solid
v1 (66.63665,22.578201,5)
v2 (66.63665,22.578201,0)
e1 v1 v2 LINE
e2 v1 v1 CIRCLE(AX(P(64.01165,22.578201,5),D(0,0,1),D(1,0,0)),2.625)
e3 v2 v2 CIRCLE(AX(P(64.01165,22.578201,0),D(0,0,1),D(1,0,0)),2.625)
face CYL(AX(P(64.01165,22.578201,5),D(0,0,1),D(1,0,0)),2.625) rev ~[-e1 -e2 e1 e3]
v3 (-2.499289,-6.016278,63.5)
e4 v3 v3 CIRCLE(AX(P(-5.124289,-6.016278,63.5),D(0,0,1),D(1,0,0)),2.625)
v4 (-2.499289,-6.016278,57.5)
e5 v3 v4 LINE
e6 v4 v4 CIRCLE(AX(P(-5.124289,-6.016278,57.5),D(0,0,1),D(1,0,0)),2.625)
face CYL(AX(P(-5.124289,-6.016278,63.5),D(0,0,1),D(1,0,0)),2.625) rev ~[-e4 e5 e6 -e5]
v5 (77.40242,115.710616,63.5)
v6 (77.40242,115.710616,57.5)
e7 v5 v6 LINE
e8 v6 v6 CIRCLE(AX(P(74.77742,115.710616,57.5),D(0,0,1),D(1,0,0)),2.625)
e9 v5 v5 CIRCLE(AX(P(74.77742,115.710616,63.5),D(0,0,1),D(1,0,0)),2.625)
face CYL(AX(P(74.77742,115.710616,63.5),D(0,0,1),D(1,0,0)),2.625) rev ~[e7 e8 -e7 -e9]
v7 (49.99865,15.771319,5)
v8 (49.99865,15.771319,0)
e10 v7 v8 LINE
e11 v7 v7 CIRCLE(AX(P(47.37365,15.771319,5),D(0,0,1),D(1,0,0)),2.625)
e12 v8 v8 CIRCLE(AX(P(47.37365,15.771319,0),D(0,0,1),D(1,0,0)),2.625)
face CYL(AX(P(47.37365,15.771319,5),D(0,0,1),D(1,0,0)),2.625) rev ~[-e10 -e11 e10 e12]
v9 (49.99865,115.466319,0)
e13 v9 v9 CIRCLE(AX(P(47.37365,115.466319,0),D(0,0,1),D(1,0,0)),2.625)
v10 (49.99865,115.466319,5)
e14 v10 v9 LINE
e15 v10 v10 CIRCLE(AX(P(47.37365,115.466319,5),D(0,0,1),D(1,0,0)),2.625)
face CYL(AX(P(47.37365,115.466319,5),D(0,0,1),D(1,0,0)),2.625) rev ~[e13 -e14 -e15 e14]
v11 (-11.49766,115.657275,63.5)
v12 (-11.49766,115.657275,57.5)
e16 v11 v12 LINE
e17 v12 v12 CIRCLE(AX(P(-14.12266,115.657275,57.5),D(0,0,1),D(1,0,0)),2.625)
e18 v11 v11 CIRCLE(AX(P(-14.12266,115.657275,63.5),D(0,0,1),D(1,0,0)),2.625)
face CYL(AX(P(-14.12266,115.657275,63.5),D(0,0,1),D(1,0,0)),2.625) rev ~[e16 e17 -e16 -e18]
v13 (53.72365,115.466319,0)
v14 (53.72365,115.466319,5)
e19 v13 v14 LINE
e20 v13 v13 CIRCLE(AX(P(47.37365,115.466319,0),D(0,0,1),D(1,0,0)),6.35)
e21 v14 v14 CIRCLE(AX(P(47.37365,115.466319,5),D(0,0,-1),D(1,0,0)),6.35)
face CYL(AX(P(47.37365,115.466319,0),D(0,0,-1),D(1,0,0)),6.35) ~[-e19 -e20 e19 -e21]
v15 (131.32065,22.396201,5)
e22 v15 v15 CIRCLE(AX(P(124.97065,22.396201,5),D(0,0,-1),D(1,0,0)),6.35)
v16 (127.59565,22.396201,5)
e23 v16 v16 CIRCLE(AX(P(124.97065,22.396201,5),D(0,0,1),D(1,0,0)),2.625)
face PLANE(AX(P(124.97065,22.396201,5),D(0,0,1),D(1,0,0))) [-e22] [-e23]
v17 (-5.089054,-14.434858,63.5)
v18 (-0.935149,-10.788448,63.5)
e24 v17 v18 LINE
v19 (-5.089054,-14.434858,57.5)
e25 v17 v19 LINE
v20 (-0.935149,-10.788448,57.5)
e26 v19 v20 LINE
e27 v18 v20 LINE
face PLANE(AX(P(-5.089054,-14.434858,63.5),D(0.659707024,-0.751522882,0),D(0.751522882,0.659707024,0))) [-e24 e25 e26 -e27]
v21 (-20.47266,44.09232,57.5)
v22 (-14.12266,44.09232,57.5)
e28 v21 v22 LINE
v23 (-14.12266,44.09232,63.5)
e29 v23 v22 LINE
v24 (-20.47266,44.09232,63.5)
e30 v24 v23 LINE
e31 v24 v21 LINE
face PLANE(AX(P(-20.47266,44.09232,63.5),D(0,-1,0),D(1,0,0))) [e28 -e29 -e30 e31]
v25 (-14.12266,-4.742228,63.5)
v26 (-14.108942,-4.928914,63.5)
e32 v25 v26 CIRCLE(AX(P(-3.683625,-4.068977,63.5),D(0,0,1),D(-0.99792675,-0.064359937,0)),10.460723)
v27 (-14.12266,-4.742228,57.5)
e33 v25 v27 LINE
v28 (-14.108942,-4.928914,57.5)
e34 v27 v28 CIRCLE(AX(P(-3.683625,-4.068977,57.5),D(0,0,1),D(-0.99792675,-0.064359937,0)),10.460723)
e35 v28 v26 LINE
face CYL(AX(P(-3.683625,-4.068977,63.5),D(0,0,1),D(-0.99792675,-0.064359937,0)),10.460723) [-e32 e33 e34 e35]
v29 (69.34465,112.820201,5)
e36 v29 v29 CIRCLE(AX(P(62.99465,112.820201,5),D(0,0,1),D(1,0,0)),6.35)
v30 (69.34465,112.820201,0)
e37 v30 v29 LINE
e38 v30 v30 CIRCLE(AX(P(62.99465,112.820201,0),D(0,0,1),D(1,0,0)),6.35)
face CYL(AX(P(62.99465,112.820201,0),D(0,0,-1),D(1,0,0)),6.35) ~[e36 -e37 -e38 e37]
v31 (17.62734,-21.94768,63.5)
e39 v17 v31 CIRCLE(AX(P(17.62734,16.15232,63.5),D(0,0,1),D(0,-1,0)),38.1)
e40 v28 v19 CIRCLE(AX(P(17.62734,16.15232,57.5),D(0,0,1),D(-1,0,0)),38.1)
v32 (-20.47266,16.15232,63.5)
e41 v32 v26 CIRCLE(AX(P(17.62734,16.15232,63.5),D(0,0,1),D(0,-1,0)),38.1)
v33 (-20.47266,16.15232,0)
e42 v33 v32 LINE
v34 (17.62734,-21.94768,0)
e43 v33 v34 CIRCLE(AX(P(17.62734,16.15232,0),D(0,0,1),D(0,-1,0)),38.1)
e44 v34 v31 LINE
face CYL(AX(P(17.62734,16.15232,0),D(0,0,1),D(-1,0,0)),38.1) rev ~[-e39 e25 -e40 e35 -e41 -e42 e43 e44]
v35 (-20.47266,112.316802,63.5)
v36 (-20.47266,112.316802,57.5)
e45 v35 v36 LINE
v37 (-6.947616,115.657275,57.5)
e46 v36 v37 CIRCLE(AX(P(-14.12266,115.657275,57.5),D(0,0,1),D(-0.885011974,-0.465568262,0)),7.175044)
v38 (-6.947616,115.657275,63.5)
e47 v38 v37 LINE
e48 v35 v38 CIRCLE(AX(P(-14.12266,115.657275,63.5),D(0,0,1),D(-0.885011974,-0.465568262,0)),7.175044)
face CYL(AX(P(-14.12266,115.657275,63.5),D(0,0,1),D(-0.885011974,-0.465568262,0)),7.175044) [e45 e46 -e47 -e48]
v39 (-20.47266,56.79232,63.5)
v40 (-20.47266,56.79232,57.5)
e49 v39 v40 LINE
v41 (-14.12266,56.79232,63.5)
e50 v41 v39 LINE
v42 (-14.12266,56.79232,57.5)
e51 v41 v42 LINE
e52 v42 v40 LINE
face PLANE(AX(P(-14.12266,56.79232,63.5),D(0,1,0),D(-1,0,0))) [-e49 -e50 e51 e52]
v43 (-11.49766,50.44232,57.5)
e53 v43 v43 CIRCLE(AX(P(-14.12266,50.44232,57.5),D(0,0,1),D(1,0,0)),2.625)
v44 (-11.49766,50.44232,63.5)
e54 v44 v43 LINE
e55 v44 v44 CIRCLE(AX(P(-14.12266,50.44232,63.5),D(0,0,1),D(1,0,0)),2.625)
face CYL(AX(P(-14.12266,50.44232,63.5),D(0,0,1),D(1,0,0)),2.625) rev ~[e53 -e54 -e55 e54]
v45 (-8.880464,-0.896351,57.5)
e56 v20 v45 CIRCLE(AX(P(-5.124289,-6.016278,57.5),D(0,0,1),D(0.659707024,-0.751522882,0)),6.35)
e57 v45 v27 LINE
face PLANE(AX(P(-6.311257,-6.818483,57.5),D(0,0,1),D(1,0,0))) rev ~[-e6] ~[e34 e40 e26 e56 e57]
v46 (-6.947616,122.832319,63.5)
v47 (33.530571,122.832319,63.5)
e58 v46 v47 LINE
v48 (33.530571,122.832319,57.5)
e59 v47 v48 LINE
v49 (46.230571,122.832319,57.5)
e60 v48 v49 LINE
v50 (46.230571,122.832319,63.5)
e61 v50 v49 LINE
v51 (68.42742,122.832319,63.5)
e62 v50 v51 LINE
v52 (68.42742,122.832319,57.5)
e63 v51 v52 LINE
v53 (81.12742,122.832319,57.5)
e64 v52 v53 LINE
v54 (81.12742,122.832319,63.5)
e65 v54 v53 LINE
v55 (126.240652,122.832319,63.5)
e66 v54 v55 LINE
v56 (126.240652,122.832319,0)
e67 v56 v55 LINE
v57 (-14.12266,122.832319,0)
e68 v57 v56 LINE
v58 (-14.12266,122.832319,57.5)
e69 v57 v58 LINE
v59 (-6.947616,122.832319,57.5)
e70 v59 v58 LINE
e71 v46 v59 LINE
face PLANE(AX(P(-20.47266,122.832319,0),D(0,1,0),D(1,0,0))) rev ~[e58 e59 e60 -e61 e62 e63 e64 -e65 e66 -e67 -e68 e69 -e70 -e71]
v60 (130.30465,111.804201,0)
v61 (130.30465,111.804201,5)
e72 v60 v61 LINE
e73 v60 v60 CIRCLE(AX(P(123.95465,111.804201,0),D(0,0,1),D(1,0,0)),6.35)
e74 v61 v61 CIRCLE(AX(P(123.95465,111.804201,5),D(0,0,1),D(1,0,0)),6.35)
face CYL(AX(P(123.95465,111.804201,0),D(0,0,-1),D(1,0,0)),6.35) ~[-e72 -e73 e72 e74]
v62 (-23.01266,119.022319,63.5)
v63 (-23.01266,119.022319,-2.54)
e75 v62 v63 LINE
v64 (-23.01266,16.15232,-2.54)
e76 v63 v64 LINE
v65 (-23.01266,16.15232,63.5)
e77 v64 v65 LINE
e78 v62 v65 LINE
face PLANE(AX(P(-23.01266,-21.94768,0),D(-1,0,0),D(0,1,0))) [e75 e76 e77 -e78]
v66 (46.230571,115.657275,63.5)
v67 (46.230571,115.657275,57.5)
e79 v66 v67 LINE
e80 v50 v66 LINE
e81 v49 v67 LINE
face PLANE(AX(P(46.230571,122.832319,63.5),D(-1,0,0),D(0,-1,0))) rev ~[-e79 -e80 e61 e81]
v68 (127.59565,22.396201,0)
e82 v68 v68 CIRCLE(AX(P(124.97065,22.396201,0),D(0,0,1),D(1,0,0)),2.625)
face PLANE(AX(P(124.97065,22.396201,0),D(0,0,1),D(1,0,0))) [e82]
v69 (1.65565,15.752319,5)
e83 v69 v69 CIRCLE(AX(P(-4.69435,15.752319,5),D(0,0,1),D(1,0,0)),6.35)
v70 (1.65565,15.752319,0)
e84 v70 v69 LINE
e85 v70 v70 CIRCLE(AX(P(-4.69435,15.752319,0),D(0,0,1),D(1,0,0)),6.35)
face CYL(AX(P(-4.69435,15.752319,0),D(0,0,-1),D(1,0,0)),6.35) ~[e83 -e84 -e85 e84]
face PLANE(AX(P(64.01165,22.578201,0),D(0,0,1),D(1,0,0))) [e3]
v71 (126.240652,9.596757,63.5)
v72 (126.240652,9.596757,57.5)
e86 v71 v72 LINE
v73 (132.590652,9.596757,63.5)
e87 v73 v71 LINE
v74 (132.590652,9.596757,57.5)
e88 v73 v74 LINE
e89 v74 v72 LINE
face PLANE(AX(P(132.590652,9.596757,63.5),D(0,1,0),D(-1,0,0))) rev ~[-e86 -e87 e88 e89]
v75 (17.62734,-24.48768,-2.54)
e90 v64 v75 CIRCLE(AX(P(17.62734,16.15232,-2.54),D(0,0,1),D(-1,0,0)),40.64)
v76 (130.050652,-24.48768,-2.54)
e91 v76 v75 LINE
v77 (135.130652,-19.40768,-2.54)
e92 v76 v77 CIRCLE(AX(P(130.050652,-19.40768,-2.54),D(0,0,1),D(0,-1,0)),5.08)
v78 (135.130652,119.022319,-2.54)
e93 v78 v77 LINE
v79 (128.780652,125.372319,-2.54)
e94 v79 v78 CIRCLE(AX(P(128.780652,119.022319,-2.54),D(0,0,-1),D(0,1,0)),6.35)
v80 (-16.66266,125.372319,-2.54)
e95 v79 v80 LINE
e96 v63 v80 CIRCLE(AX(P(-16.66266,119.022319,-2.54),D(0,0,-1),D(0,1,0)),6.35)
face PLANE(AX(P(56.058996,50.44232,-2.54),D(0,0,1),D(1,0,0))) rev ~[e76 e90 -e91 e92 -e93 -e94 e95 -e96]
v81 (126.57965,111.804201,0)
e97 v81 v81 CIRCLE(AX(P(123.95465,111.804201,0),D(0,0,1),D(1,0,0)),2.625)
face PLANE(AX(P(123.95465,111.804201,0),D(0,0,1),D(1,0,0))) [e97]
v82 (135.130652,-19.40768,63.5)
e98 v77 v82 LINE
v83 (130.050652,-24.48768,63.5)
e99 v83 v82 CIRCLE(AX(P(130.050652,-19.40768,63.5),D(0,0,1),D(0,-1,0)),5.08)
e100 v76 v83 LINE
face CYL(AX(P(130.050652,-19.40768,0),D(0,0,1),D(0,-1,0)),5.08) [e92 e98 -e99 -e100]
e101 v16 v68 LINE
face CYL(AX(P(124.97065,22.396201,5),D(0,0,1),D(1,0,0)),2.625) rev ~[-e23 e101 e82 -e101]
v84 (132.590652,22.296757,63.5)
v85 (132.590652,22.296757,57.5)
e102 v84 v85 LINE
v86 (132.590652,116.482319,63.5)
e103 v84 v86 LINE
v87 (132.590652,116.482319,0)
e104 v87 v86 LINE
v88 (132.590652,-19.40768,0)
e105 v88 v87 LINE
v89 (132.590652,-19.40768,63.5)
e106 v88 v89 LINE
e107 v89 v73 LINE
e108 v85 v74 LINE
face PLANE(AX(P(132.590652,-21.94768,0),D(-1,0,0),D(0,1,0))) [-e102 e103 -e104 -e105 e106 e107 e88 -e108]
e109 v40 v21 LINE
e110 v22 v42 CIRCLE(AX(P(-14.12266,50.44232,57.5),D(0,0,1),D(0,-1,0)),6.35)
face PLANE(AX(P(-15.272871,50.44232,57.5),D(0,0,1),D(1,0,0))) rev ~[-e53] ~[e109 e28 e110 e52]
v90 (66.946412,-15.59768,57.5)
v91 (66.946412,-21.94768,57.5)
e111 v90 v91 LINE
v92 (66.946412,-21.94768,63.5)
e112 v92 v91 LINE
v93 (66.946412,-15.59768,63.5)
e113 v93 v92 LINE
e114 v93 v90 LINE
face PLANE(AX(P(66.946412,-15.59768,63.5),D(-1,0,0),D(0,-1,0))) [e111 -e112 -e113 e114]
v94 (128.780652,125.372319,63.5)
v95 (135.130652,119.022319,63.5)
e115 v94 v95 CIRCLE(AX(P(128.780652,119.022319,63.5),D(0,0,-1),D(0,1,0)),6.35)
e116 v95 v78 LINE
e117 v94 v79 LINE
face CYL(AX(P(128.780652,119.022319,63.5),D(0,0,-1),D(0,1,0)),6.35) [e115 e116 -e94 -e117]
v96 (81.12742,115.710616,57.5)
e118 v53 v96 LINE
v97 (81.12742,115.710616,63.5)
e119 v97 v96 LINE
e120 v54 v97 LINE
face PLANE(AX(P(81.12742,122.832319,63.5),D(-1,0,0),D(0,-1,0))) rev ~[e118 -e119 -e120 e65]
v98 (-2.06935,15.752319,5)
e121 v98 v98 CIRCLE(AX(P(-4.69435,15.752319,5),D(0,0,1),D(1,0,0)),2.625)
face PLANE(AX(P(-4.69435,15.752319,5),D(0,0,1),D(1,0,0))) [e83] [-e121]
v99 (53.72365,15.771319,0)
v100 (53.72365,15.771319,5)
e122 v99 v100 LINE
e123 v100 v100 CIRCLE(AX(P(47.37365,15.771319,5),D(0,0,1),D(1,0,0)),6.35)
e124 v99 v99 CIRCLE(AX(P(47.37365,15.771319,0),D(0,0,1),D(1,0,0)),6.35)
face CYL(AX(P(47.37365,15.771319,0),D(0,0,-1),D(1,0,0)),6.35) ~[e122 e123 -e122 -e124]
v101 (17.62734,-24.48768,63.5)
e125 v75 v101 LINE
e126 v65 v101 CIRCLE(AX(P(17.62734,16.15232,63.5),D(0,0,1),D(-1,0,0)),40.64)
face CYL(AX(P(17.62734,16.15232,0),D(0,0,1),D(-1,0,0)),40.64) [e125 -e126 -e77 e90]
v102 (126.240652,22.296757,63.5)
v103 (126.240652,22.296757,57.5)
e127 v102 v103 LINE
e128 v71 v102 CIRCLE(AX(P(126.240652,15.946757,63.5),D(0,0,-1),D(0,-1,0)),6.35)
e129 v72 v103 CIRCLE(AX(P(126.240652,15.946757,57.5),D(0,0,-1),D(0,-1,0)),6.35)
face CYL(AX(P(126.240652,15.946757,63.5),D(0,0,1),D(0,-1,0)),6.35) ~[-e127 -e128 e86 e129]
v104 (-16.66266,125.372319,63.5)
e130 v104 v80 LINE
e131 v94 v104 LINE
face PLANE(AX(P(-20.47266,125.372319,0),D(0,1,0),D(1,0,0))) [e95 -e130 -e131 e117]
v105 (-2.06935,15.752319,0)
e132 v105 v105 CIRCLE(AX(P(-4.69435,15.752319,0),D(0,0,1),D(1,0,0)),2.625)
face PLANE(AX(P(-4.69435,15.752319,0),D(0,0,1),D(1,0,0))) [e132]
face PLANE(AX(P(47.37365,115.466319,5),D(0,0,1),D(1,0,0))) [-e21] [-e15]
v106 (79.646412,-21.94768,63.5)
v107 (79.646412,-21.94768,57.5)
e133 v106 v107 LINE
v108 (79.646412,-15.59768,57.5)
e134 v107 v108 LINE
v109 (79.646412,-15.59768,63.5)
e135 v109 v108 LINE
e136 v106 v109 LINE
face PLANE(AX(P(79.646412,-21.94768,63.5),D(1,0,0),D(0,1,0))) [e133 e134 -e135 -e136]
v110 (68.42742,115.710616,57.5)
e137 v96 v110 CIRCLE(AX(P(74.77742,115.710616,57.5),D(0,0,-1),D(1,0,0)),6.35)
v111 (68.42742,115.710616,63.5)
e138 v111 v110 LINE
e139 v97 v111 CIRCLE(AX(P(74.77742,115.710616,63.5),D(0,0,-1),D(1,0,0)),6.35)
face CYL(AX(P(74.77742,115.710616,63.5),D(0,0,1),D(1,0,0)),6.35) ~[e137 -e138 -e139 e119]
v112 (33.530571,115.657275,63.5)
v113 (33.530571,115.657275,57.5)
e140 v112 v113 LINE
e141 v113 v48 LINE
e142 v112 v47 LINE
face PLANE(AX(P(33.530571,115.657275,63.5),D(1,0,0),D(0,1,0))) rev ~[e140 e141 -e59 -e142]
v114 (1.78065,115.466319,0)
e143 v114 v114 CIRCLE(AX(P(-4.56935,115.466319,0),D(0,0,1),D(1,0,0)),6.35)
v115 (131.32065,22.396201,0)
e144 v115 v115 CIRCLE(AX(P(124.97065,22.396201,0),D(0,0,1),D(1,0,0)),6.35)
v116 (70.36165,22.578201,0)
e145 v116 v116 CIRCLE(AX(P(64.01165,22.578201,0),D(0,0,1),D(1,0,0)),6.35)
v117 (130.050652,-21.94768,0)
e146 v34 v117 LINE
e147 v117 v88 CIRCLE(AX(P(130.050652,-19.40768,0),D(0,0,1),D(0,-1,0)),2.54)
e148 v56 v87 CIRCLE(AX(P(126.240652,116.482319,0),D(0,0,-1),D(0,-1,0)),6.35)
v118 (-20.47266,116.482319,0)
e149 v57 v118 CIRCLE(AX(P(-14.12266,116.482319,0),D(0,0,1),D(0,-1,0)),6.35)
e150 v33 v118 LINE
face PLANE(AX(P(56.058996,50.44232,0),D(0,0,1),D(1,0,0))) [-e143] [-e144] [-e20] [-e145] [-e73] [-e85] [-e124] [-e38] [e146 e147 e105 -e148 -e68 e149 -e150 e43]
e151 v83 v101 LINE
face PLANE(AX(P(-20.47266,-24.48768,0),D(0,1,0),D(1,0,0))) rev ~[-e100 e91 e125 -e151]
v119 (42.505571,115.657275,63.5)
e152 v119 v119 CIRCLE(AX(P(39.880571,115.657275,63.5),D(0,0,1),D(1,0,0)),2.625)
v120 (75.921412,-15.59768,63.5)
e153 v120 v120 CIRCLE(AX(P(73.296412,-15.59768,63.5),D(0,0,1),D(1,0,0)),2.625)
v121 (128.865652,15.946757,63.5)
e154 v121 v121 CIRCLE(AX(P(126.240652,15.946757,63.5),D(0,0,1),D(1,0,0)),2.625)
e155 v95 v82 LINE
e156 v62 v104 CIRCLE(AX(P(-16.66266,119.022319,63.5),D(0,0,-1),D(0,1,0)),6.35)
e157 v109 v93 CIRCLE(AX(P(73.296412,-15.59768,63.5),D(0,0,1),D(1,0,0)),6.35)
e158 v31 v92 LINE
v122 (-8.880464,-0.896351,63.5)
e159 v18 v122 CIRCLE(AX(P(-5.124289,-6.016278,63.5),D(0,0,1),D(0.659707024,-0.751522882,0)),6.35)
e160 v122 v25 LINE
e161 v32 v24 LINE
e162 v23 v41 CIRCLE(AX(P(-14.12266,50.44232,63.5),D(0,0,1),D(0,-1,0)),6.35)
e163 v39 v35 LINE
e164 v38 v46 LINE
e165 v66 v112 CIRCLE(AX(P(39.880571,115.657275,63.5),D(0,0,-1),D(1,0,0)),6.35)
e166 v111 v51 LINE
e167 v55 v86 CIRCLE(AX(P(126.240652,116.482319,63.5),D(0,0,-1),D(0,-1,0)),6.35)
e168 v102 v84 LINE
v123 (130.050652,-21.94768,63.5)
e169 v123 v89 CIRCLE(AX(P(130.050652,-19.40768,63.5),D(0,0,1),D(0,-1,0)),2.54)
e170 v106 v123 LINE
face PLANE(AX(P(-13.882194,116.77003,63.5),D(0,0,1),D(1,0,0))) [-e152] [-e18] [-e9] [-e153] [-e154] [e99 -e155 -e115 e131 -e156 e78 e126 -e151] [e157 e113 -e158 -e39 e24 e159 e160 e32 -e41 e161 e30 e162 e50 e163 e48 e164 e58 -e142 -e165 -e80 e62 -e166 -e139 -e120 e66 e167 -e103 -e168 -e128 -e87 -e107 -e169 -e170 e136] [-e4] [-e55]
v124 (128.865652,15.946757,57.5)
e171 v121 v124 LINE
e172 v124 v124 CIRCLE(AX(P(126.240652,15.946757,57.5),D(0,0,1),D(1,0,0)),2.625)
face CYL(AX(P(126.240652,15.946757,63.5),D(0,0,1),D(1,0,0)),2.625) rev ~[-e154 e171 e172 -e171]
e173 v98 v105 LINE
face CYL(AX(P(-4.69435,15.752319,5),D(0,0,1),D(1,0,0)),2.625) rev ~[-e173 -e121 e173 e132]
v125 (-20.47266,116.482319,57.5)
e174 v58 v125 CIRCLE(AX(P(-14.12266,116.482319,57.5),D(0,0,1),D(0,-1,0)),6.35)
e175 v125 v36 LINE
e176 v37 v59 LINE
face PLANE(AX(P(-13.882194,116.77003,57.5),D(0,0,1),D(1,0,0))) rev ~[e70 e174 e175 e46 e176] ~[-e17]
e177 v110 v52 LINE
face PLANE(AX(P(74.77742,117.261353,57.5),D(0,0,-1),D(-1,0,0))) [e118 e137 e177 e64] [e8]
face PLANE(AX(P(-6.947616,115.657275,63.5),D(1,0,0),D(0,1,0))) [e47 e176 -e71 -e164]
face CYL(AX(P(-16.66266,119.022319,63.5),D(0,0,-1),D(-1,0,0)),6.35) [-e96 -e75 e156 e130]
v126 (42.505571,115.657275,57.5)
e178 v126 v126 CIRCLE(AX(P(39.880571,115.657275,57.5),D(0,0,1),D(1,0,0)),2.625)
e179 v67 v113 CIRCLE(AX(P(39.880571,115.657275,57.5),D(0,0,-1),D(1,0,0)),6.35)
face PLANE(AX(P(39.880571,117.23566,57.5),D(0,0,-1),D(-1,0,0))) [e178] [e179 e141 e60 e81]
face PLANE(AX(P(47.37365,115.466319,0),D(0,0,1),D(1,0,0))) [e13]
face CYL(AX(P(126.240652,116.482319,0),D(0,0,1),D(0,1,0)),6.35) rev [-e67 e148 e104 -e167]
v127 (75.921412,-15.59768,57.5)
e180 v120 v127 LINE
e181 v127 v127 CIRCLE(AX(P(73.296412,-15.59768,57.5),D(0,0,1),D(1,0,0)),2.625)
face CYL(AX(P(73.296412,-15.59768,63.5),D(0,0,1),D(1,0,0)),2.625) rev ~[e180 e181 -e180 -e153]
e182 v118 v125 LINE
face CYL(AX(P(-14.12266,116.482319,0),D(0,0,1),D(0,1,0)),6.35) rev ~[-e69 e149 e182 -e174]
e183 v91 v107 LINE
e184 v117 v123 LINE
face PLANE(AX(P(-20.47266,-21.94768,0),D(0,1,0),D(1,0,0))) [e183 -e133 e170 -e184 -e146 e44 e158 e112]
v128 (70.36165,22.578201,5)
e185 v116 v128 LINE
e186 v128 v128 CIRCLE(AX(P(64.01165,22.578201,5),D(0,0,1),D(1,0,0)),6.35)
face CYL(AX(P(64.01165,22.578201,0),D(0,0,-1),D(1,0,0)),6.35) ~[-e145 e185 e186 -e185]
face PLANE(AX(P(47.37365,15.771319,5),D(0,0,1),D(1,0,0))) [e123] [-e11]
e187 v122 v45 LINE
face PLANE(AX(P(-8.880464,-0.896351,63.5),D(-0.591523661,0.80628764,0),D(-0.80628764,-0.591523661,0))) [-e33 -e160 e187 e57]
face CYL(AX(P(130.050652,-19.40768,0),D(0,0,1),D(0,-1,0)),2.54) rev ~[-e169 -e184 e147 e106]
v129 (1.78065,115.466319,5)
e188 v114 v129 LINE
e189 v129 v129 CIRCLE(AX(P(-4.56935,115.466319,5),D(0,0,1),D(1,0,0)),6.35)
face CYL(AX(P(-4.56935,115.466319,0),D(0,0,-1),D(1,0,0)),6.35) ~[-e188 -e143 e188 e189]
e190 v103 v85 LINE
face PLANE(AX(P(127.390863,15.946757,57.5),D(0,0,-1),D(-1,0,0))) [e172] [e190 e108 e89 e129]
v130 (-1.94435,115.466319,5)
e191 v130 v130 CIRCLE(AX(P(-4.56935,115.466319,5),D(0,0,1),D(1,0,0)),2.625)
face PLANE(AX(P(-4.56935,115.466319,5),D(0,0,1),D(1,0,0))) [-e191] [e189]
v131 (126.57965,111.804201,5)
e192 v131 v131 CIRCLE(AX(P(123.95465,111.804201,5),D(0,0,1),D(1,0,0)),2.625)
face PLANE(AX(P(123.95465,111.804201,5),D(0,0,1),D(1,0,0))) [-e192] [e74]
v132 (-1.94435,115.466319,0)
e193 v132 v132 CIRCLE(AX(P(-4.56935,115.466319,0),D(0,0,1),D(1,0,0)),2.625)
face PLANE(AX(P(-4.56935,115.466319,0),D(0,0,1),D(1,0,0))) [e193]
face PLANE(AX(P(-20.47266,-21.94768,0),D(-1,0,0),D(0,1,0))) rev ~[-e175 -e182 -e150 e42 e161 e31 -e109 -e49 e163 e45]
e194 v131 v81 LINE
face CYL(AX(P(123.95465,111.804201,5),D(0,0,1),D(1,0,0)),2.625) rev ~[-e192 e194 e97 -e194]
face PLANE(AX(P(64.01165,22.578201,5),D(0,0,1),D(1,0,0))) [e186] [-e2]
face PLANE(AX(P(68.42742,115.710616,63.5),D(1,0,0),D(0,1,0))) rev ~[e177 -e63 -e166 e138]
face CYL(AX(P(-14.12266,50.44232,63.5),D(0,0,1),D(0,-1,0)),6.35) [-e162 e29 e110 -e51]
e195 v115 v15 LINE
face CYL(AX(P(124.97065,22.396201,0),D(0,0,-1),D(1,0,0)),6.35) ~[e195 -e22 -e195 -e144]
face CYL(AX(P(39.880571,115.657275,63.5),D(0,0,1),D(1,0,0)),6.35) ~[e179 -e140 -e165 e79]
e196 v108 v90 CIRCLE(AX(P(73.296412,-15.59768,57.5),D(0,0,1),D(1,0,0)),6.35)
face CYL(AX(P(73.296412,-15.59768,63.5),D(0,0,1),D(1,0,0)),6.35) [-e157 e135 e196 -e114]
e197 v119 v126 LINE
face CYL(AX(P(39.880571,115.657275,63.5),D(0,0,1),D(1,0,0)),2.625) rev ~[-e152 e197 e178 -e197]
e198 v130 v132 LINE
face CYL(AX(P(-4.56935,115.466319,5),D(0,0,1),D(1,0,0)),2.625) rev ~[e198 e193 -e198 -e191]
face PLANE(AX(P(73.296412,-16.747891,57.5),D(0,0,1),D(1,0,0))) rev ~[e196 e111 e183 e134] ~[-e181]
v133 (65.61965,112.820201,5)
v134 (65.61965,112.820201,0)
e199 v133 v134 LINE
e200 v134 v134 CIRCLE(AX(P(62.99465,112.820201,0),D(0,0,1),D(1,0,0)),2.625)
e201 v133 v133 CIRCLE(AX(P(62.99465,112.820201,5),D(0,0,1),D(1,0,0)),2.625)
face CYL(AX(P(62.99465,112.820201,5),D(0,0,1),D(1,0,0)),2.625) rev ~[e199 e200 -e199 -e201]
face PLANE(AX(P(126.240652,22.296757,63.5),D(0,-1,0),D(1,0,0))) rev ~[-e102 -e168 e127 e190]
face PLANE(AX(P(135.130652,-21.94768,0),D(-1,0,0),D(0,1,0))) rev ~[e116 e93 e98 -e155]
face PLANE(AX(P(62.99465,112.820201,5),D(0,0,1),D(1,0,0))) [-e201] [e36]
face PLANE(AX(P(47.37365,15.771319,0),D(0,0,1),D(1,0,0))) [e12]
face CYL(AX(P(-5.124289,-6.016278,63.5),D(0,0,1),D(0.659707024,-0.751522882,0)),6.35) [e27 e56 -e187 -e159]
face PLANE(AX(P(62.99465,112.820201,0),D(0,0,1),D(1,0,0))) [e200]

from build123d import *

# Parameters (mm, degrees)
SKETCH5_W           = 153.063311942
SKETCH5_H           = 144.779998932
BOSS_EXTRUDE4_DEPTH = 63.5
FILLET1_R           = 38.1
FILLET2_R           = 2.54
SHELL3_T            = 2.54
SKETCH7_R           = 6.35
BOSS_EXTRUDE5_DEPTH = 5
SKETCH8_R           = 2.625
CUT_EXTRUDE1_DEPTH  = 5
BOSS_EXTRUDE6_DEPTH = 6
FILLET3_R           = 6.35
SKETCH10_R          = 2.625
CUT_EXTRUDE2_DEPTH  = 58.5


with BuildPart() as part:
    # Sketch5 → Boss-Extrude4 (new body)
    with BuildSketch(Plane.XY):
        with Locations((56.058995854, 50.442319529)):
            Rectangle(SKETCH5_W, SKETCH5_H)
    extrude(amount=BOSS_EXTRUDE4_DEPTH)

    # Fillet1
    fillet1_edges = [part.edges().sort_by_distance(p)[0] for p in [
        (-20.472660117, -21.947679937, 31.75),
    ]]
    fillet(fillet1_edges, radius=FILLET1_R)

    # Fillet2
    fillet2_edges = [part.edges().sort_by_distance(p)[0] for p in [
        (132.590651825, -21.947679937, 31.75),
    ]]
    fillet(fillet2_edges, radius=FILLET2_R)

    # Shell3
    shell3_openings = [part.faces().sort_by_distance(p)[0] for p in [
        (57.024076911, 51.357711543, 63.5),
    ]]
    offset(amount=SHELL3_T, openings=shell3_openings, kind=Kind.INTERSECTION)

    # Sketch7 → Boss-Extrude5 (add)
    with BuildSketch(Plane.XY):
        with Locations((62.994650422, 112.820200594)):
            Circle(SKETCH7_R)
        with Locations((123.954650422, 111.804200594)):
            Circle(SKETCH7_R)
        with Locations((64.011650422, 22.578200594)):
            Circle(SKETCH7_R)
        with Locations((124.970650422, 22.396200594)):
            Circle(SKETCH7_R)
        with Locations((-4.569349914, 115.466318873)):
            Circle(SKETCH7_R)
        with Locations((47.373650086, 115.466318873)):
            Circle(SKETCH7_R)
        with Locations((-4.694349914, 15.752318873)):
            Circle(SKETCH7_R)
        with Locations((47.373650086, 15.771318873)):
            Circle(SKETCH7_R)
    extrude(amount=BOSS_EXTRUDE5_DEPTH)

    # Sketch8 → Cut-Extrude1 (cut)
    with BuildSketch(Plane.XY.offset(5)):
        with Locations((-4.694349914, 15.752318873)):
            Circle(SKETCH8_R)
        with Locations((47.373650086, 15.771318873)):
            Circle(SKETCH8_R)
        with Locations((64.011650422, 22.578200594)):
            Circle(SKETCH8_R)
        with Locations((124.970650422, 22.396200594)):
            Circle(SKETCH8_R)
        with Locations((47.373650086, 115.466318873)):
            Circle(SKETCH8_R)
        with Locations((-4.569349914, 115.466318873)):
            Circle(SKETCH8_R)
        with Locations((62.994650422, 112.820200594)):
            Circle(SKETCH8_R)
        with Locations((123.954650422, 111.804200594)):
            Circle(SKETCH8_R)
    extrude(amount=-CUT_EXTRUDE1_DEPTH, mode=Mode.SUBTRACT)

    # Sketch9 → Boss-Extrude6 (add)
    with BuildSketch(Plane.XY.offset(63.5)):
        with BuildLine():
            Line((-6.94761595, 115.657274828), (-6.94761595, 122.832318995))
            Line((-6.94761595, 122.832318995), (-20.472660117, 122.832318995))
            Line((-20.472660117, 122.832318995), (-20.472660117, 115.657274828))
            Line((-20.472660117, 115.657274828), (-20.472660117, 112.316801987))
            ThreePointArc((-20.472660117, 112.316801987), (-12.402234539, 108.691544814), (-6.94761595, 115.657274828))
        make_face()
        with BuildLine():
            Line((33.530571418, 115.657274828), (33.530571418, 122.832318995))
            Line((33.530571418, 122.832318995), (46.230571418, 122.832318995))
            Line((46.230571418, 122.832318995), (46.230571418, 115.657274828))
            ThreePointArc((46.230571418, 115.657274828), (39.880571418, 109.307274828), (33.530571418, 115.657274828))
        make_face()
        with BuildLine():
            Line((68.427420291, 115.710615977), (68.427420291, 122.832318995))
            Line((68.427420291, 122.832318995), (81.127420291, 122.832318995))
            Line((81.127420291, 122.832318995), (81.127420291, 115.710615977))
            ThreePointArc((81.127420291, 115.710615977), (74.777420291, 109.360615977), (68.427420291, 115.710615977))
        make_face()
        with BuildLine():
            Line((126.240651825, 22.296756738), (132.590651825, 22.296756738))
            Line((132.590651825, 22.296756738), (132.590651825, 9.596756738))
            Line((132.590651825, 9.596756738), (126.240651825, 9.596756738))
            ThreePointArc((126.240651825, 9.596756738), (119.890651825, 15.946756738), (126.240651825, 22.296756738))
        make_face()
        with BuildLine():
            Line((-8.880464125, -0.896351485), (-14.122660117, -4.742228331))
            ThreePointArc((-14.122660117, -4.742228331), (-11.33604945, -11.201095808), (-5.089054035, -14.434857763))
            Line((-5.089054035, -14.434857763), (-0.935149274, -10.7884483))
            ThreePointArc((-0.935149274, -10.7884483), (-0.173505163, -2.039817183), (-8.880464125, -0.896351485))
        make_face()
        with BuildLine():
            Line((-14.122660117, 56.792319529), (-20.472660117, 56.792319529))
            Line((-20.472660117, 56.792319529), (-20.472660117, 44.092319529))
            Line((-20.472660117, 44.092319529), (-14.122660117, 44.092319529))
            ThreePointArc((-14.122660117, 44.092319529), (-7.772660117, 50.442319529), (-14.122660117, 56.792319529))
        make_face()
        with BuildLine():
            Line((66.946411889, -15.597679937), (66.946411889, -21.947679937))
            Line((66.946411889, -21.947679937), (79.646411889, -21.947679937))
            Line((79.646411889, -21.947679937), (79.646411889, -15.597679937))
            ThreePointArc((79.646411889, -15.597679937), (73.296411889, -9.247679937), (66.946411889, -15.597679937))
        make_face()
    extrude(amount=-BOSS_EXTRUDE6_DEPTH)

    # Fillet3
    fillet3_edges = [part.edges().sort_by_distance(p)[0] for p in [
        (-20.472660117, 122.832318995, 28.75),
        (132.590651825, 122.832318995, 31.75),
        (-23.012660117, 125.372318995, 30.48),
        (135.130651825, 125.372318995, 30.48),
    ]]
    fillet(fillet3_edges, radius=FILLET3_R)

    # Sketch10 → Cut-Extrude2 (cut)
    with BuildSketch(Plane.XY.offset(63.5)):
        with Locations((-14.122660117, 115.657274828)):
            Circle(SKETCH10_R)
        with Locations((39.880571418, 115.657274828)):
            Circle(SKETCH10_R)
        with Locations((74.777420291, 115.710615977)):
            Circle(SKETCH10_R)
        with Locations((-14.122660117, 50.442319529)):
            Circle(SKETCH10_R)
        with Locations((-5.124288877, -6.016277999)):
            Circle(SKETCH10_R)
        with Locations((73.296411889, -15.597679937)):
            Circle(SKETCH10_R)
        with Locations((126.240651825, 15.946756738)):
            Circle(SKETCH10_R)
    extrude(amount=-CUT_EXTRUDE2_DEPTH, mode=Mode.SUBTRACT)


solid = part.part
